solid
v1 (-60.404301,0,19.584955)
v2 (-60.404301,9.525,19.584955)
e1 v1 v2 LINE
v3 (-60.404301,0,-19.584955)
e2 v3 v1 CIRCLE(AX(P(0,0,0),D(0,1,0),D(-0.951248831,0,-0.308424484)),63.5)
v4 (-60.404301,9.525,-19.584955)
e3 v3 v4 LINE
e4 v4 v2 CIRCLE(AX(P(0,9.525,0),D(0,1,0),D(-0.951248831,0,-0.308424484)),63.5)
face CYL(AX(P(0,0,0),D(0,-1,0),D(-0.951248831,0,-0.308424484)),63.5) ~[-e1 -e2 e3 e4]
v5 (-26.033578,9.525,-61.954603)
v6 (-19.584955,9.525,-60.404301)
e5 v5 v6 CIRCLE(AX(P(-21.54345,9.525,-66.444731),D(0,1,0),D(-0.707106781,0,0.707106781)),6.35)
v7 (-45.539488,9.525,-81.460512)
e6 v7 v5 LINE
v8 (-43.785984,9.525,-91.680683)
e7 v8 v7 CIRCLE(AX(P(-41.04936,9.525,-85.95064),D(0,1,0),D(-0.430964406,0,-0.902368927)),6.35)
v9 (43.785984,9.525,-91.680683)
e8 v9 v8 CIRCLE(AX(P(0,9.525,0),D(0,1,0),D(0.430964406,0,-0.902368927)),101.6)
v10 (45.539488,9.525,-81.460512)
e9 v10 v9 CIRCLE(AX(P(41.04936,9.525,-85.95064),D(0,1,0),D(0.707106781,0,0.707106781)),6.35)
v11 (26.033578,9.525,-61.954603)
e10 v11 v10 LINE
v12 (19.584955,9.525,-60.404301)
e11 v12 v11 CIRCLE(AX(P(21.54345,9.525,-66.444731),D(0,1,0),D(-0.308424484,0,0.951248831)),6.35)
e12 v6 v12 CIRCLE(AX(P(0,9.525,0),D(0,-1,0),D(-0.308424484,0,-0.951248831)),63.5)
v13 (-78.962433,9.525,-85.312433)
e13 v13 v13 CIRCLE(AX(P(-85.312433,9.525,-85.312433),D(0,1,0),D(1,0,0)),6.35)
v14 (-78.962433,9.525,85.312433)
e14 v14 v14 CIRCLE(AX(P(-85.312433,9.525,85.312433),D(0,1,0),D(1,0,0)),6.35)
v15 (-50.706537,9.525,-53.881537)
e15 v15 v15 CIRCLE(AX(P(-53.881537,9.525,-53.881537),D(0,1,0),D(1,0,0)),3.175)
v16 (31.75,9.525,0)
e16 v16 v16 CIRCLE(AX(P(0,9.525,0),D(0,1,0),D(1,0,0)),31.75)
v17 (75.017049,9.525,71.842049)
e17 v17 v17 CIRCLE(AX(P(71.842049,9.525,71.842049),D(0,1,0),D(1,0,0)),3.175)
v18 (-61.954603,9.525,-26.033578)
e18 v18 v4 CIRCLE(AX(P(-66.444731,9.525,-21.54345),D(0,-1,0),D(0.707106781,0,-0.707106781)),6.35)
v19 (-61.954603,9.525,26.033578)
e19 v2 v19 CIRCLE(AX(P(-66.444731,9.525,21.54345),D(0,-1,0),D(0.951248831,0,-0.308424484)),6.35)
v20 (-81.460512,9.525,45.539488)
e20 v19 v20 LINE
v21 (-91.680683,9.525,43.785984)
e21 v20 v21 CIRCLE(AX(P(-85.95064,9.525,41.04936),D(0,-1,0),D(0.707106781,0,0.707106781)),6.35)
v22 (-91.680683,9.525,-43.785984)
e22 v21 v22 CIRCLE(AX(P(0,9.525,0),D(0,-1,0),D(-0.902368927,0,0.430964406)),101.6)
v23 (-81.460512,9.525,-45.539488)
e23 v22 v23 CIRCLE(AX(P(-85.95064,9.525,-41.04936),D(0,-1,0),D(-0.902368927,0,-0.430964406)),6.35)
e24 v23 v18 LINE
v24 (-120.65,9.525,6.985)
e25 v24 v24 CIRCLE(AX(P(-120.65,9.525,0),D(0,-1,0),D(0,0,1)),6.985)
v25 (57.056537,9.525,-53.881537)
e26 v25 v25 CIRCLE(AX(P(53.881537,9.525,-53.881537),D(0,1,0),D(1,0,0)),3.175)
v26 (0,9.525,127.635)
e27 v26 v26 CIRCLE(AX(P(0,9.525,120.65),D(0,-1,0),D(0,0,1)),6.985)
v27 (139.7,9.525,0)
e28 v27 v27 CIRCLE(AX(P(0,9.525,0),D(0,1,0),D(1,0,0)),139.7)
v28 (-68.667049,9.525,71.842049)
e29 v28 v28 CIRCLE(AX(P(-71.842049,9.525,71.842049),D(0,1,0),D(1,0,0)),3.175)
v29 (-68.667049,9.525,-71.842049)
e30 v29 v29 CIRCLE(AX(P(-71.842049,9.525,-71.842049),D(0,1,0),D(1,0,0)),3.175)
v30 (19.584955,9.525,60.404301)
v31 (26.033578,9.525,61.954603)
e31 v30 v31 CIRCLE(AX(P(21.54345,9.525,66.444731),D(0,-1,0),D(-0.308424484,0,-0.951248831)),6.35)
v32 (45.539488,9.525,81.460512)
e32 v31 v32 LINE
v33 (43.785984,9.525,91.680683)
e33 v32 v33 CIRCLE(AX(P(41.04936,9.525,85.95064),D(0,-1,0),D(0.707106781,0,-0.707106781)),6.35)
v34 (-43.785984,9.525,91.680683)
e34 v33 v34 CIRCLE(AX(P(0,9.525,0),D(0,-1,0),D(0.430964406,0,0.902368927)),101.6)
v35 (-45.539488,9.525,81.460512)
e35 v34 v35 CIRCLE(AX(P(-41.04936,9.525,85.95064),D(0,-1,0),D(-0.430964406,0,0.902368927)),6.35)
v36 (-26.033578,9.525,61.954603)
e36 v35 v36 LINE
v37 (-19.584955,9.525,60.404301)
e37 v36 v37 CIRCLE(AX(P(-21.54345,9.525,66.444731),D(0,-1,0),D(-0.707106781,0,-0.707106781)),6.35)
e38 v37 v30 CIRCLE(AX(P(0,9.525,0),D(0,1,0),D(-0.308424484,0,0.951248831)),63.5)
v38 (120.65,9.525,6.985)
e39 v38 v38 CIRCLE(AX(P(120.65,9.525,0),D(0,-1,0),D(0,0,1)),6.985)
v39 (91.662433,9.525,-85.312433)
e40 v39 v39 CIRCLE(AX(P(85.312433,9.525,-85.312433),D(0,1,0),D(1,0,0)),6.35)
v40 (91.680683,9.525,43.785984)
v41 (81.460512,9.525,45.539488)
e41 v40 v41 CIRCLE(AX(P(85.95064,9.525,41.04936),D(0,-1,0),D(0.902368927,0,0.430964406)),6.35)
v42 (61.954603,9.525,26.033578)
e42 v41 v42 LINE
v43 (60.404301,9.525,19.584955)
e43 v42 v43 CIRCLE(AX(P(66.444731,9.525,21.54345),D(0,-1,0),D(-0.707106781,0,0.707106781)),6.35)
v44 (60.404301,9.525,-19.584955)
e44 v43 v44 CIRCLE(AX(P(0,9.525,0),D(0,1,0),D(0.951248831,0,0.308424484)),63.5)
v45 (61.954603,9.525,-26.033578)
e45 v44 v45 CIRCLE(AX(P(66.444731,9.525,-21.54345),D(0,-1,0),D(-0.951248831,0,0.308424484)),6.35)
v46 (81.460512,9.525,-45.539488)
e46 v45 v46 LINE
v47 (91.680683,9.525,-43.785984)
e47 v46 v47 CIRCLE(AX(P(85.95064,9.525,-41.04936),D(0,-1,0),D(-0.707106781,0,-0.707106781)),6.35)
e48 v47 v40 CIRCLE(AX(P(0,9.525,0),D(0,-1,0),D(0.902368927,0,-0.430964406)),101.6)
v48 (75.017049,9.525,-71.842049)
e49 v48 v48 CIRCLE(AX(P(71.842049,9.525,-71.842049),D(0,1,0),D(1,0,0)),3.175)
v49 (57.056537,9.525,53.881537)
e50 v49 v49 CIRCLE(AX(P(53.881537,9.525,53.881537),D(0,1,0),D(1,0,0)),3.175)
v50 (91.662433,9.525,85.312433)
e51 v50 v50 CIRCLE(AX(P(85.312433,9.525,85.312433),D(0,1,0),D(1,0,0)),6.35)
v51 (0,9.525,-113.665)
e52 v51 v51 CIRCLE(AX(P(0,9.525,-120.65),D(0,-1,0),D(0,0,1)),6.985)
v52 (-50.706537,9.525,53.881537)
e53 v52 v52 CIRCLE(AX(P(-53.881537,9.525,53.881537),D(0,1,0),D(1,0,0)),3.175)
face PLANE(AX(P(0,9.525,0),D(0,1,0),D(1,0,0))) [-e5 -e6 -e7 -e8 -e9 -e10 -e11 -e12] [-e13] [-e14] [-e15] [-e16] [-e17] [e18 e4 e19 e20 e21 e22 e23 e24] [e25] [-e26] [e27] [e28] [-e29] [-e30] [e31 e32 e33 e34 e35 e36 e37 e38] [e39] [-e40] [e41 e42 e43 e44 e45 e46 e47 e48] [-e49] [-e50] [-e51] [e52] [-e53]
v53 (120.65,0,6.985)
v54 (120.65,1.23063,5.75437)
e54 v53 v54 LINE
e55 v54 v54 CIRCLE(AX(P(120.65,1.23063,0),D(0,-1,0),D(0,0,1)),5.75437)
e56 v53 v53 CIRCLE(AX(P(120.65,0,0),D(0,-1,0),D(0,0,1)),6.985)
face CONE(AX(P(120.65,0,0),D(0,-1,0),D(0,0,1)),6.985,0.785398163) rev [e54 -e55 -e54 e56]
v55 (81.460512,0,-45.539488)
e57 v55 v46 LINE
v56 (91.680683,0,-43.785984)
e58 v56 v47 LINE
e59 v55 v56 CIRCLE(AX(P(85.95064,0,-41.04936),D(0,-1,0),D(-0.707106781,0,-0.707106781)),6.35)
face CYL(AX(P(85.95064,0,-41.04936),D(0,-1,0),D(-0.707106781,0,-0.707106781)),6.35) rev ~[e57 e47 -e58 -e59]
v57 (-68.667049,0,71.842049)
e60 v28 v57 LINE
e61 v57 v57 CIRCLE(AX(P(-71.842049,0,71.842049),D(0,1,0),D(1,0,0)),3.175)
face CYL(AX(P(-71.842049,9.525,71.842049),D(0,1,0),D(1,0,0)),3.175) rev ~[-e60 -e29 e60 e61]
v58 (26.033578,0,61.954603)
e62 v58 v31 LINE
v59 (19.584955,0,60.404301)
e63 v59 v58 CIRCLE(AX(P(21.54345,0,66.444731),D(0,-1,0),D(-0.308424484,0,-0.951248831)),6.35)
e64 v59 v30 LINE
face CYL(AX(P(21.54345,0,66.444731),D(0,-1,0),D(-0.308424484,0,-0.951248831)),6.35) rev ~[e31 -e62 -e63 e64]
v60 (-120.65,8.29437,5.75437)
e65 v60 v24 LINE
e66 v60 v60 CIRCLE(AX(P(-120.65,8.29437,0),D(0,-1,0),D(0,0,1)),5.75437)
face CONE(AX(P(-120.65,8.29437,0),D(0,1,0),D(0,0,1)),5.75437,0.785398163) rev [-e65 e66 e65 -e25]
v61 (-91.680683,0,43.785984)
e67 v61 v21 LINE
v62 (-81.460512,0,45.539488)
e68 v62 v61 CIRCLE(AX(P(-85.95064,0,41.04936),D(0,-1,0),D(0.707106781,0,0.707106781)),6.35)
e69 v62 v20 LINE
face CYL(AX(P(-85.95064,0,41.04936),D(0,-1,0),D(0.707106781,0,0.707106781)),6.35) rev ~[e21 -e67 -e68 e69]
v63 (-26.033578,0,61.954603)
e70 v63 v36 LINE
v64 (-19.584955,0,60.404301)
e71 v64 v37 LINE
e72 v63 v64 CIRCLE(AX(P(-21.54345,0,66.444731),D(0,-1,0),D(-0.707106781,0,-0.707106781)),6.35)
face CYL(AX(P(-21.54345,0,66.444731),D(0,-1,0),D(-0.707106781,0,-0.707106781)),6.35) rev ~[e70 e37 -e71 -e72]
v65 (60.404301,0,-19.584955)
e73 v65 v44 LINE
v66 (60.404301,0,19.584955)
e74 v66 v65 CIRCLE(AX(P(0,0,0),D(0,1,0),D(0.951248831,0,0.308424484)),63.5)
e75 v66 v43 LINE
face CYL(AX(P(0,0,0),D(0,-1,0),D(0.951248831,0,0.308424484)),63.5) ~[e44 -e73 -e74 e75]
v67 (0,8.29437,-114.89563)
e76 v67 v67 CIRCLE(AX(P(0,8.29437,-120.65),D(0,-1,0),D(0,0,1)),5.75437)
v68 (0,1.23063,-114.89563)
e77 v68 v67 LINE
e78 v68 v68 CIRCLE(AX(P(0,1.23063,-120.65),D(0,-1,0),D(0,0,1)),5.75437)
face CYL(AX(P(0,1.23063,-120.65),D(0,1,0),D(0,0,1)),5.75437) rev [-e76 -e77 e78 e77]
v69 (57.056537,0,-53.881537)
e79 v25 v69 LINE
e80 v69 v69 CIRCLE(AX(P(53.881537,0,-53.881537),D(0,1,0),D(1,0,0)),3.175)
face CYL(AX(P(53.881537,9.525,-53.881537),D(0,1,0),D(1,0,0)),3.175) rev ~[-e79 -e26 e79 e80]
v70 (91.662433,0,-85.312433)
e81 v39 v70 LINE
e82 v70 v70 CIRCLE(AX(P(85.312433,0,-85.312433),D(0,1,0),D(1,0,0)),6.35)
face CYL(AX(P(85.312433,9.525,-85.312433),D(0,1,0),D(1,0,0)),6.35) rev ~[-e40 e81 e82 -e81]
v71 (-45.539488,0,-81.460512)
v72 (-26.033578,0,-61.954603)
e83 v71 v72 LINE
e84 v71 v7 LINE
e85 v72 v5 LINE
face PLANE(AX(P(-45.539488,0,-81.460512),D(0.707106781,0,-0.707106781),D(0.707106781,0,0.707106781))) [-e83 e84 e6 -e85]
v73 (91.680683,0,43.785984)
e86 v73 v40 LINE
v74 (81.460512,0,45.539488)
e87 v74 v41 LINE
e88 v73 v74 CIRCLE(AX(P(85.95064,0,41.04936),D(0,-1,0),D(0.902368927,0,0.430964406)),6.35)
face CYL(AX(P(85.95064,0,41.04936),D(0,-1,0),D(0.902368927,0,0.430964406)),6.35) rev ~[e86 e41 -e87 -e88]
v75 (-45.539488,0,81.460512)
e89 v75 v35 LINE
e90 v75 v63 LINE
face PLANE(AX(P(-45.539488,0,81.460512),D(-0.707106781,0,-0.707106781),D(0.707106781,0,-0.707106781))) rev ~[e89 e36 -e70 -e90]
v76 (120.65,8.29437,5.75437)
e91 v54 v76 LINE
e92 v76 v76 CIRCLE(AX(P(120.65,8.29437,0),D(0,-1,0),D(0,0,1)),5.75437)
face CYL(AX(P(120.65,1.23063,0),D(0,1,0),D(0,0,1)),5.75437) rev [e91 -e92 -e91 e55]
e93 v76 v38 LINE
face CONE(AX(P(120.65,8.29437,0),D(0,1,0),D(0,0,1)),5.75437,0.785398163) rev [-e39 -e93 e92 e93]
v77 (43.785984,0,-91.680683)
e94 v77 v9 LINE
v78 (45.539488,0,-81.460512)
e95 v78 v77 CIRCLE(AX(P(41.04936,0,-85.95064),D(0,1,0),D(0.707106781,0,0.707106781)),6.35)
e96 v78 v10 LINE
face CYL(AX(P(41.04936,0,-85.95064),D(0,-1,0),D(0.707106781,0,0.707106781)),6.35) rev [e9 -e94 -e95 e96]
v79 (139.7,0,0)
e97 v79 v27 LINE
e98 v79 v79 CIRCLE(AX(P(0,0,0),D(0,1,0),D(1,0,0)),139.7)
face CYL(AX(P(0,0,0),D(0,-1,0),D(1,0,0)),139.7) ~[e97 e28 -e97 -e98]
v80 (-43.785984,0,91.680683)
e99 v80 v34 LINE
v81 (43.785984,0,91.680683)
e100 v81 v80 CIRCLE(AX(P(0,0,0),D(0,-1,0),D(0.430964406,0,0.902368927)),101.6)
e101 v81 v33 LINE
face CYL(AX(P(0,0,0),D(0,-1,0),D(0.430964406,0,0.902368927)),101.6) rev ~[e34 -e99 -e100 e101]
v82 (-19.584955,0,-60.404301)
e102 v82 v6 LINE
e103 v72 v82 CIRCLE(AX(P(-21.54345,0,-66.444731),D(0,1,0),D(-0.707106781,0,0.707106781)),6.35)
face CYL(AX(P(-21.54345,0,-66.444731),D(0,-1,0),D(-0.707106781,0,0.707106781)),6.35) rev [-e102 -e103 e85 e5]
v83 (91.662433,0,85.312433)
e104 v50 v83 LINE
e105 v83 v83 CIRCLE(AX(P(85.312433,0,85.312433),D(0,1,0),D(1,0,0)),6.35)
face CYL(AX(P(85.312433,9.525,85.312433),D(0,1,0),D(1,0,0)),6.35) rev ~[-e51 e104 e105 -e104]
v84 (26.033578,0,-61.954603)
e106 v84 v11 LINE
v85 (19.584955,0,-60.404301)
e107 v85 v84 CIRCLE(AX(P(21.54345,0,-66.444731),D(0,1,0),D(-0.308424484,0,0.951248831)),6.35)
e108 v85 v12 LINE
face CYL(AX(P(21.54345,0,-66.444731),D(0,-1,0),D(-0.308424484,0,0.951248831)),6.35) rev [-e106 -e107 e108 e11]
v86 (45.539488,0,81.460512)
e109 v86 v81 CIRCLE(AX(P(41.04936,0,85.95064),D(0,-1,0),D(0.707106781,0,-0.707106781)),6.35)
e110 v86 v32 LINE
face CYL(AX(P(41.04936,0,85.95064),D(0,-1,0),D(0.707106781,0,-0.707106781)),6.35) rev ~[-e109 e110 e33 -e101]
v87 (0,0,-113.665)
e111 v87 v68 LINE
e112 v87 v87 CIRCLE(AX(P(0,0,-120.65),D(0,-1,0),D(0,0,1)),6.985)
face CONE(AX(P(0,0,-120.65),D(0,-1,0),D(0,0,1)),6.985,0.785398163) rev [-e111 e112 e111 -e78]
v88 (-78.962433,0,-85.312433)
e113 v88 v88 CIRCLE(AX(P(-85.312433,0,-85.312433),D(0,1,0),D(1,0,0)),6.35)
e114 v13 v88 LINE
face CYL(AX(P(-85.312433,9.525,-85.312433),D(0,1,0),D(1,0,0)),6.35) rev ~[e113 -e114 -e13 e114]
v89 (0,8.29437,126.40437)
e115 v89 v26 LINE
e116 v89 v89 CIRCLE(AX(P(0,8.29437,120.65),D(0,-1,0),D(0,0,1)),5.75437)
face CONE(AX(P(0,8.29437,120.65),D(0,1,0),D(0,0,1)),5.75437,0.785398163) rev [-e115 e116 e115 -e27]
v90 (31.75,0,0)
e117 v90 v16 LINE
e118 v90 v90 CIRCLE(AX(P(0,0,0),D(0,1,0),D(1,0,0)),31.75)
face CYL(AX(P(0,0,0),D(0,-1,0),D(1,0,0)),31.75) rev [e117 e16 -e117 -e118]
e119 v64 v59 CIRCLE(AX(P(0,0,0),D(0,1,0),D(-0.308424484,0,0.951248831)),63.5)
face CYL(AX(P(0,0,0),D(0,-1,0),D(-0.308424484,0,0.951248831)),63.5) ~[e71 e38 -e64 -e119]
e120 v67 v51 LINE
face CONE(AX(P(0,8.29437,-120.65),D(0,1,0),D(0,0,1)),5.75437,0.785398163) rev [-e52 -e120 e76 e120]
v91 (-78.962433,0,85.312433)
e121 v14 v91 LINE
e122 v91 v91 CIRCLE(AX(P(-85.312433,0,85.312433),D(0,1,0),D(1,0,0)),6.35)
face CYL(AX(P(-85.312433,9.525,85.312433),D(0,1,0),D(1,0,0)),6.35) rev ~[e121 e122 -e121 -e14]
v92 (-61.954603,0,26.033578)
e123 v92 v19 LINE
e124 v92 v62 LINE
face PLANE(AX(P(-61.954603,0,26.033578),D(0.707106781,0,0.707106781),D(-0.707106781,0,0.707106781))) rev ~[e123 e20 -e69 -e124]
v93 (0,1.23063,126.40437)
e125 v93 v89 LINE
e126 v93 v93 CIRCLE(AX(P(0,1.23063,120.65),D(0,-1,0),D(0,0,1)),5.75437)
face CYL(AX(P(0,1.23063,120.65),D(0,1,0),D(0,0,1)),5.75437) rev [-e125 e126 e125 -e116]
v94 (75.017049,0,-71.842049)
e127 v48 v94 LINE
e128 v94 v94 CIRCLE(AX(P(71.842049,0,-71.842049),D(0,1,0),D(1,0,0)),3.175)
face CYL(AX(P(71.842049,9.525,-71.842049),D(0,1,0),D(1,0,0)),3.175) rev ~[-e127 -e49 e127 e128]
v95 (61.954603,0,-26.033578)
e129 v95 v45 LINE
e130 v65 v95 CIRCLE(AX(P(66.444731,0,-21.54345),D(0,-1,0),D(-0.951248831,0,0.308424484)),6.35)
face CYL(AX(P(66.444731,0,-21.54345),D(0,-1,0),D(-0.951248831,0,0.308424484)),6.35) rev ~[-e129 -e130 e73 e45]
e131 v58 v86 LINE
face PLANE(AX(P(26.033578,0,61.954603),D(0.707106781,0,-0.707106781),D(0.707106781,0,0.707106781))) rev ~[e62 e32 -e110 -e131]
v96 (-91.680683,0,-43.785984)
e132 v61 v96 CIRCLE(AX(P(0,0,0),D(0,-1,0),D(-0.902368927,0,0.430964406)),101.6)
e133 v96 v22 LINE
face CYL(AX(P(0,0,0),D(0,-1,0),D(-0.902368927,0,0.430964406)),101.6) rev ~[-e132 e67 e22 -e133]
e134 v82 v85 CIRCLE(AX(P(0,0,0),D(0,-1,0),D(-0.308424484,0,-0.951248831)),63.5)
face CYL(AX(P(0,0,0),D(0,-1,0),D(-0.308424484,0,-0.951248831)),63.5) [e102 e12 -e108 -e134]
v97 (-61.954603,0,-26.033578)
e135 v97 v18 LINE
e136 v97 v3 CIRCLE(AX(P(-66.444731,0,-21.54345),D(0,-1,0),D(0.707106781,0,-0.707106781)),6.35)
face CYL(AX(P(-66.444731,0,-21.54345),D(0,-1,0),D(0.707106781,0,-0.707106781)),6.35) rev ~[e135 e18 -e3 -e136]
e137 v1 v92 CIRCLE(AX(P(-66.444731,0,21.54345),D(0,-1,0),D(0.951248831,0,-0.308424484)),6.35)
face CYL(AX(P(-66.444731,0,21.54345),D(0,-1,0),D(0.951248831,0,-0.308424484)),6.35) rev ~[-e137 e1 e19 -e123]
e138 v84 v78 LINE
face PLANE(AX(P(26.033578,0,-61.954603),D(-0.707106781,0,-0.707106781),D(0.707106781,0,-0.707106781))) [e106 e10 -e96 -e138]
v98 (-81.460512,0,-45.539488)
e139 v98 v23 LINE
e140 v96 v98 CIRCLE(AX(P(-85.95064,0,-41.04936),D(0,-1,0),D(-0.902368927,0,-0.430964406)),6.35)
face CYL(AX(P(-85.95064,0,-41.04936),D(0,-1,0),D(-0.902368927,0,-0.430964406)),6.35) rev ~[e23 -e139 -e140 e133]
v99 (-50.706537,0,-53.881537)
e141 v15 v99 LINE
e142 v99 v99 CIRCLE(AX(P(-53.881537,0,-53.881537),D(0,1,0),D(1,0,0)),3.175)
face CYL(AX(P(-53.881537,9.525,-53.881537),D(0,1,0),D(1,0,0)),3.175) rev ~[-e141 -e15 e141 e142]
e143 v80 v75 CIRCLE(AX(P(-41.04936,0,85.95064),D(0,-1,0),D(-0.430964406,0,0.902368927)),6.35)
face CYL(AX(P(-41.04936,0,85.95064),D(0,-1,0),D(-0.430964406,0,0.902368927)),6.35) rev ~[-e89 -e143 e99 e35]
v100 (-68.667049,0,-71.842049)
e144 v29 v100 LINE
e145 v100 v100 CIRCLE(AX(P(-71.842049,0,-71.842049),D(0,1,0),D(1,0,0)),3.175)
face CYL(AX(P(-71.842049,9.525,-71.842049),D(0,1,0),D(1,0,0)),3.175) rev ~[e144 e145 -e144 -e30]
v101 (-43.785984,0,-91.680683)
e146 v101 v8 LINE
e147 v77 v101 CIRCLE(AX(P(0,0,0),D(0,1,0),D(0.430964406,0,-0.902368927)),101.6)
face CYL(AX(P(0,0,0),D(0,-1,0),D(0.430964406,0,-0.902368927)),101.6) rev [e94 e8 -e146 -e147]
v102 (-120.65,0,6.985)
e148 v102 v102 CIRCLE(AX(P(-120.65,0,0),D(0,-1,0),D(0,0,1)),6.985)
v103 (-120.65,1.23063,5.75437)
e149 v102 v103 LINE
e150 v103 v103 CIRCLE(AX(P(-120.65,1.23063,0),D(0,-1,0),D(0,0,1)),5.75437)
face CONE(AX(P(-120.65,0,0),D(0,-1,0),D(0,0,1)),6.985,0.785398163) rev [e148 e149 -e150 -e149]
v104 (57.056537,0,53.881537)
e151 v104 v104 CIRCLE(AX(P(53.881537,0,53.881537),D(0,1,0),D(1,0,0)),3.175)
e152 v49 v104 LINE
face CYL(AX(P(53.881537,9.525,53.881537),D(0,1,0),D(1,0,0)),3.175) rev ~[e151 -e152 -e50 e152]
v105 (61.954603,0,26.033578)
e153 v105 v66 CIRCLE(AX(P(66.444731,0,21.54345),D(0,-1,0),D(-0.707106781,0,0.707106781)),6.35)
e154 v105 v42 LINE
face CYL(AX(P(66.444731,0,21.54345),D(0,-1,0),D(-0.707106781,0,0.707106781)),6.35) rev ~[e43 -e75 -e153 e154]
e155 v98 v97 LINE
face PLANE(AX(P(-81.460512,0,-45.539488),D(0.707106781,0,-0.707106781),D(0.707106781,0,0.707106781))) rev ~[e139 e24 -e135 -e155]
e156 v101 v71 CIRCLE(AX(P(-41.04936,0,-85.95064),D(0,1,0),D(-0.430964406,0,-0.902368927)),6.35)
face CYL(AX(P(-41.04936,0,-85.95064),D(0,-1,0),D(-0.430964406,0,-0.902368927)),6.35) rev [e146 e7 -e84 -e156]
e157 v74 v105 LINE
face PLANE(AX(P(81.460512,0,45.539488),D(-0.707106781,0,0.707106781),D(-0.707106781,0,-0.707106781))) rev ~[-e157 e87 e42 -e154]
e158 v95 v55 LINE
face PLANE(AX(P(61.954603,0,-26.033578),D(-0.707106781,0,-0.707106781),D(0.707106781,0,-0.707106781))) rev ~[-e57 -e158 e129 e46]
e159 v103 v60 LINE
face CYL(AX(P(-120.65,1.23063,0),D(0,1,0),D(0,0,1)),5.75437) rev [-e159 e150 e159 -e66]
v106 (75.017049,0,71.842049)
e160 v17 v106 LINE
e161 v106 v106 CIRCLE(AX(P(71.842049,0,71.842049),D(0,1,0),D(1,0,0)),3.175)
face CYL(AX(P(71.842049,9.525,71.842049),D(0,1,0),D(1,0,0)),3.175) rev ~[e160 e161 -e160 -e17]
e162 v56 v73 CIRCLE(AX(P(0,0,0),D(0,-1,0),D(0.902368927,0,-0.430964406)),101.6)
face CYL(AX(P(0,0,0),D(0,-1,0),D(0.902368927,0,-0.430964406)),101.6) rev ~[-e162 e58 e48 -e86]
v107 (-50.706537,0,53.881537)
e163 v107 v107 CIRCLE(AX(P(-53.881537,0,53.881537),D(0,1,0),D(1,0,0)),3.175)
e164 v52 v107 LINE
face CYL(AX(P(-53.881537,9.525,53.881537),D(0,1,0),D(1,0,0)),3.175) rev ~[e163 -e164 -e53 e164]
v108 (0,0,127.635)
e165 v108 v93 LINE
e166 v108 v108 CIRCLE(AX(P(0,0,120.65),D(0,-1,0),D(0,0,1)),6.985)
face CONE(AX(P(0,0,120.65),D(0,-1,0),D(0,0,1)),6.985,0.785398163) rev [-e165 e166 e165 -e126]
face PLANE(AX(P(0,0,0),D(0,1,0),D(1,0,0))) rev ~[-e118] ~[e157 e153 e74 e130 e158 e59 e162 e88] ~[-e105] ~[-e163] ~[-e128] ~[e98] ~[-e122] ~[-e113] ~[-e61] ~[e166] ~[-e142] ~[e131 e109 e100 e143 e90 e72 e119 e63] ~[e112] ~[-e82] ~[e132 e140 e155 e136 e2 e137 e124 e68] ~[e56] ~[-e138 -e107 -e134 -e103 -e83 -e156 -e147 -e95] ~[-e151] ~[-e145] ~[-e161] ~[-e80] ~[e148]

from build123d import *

# Parameters (mm, degrees)
SKETCH2_R                        = 139.7
SKETCH2_R_2                      = 31.75
BOSS_EXTRUDE1_DEPTH              = 9.525
SKETCH3_R                        = 3.175
SKETCH3_R_2                      = 6.35
CUT_EXTRUDE2_DEPTH               = 10.525
F_1_2_20_TAPPED_HOLE1_AT_2_COUNT = 2
F_1_2_20_TAPPED_HOLE1_AT_2_PITCH = 170.6248663
F_1_2_20_TAPPED_HOLE1_AT_3_COUNT = 2
F_1_2_20_TAPPED_HOLE1_AT_3_PITCH = 241.3
F_1_2_20_TAPPED_HOLE1_AT_4_COUNT = 2
F_1_2_20_TAPPED_HOLE1_AT_4_PITCH = 170.6248663


with BuildPart() as part:
    # Sketch2 → Boss-Extrude1 (new body)
    with BuildSketch(Plane(origin=(0, 0, 0), x_dir=(1, 0, 0), z_dir=(0, 1, 0))):
        Circle(SKETCH2_R)
        Circle(SKETCH2_R_2, mode=Mode.SUBTRACT)
        with BuildLine():
            Line((61.954602754, 26.03357827), (81.460512242, 45.539487758))
            ThreePointArc((81.460512242, 45.539487758), (87.024437868, 47.307910551), (91.68068299, 43.785983677))
            ThreePointArc((91.68068299, 43.785983677), (101.6, 0), (91.68068299, -43.785983677))
            ThreePointArc((91.68068299, -43.785983677), (87.024437868, -47.307910551), (81.460512242, -45.539487758))
            Line((81.460512242, -45.539487758), (61.954602754, -26.03357827))
            ThreePointArc((61.954602754, -26.03357827), (60.270643836, -23.027751383), (60.404300741, -19.584954736))
            ThreePointArc((60.404300741, -19.584954736), (63.5, 0), (60.404300741, 19.584954736))
            ThreePointArc((60.404300741, 19.584954736), (60.270643836, 23.027751383), (61.954602754, 26.03357827))
        make_face(mode=Mode.SUBTRACT)
        with BuildLine():
            Line((26.03357827, 61.954602754), (45.539487758, 81.460512242))
            ThreePointArc((45.539487758, 81.460512242), (47.307910551, 87.024437868), (43.785983677, 91.68068299))
            ThreePointArc((43.785983677, 91.68068299), (0, 101.6), (-43.785983677, 91.68068299))
            ThreePointArc((-43.785983677, 91.68068299), (-47.307910551, 87.024437868), (-45.539487758, 81.460512242))
            Line((-45.539487758, 81.460512242), (-26.03357827, 61.954602754))
            ThreePointArc((-26.03357827, 61.954602754), (-23.027751383, 60.270643836), (-19.584954736, 60.404300741))
            ThreePointArc((-19.584954736, 60.404300741), (0, 63.5), (19.584954736, 60.404300741))
            ThreePointArc((19.584954736, 60.404300741), (23.027751383, 60.270643836), (26.03357827, 61.954602754))
        make_face(mode=Mode.SUBTRACT)
        with BuildLine():
            Line((26.03357827, -61.954602754), (45.539487758, -81.460512242))
            ThreePointArc((45.539487758, -81.460512242), (47.307910551, -87.024437868), (43.785983677, -91.68068299))
            ThreePointArc((43.785983677, -91.68068299), (0, -101.6), (-43.785983677, -91.68068299))
            ThreePointArc((-43.785983677, -91.68068299), (-47.307910551, -87.024437868), (-45.539487758, -81.460512242))
            Line((-45.539487758, -81.460512242), (-26.03357827, -61.954602754))
            ThreePointArc((-26.03357827, -61.954602754), (-23.027751383, -60.270643836), (-19.584954736, -60.404300741))
            ThreePointArc((-19.584954736, -60.404300741), (0, -63.5), (19.584954736, -60.404300741))
            ThreePointArc((19.584954736, -60.404300741), (23.027751383, -60.270643836), (26.03357827, -61.954602754))
        make_face(mode=Mode.SUBTRACT)
        with BuildLine():
            Line((-61.954602754, -26.03357827), (-81.460512242, -45.539487758))
            ThreePointArc((-81.460512242, -45.539487758), (-87.024437868, -47.307910551), (-91.68068299, -43.785983677))
            ThreePointArc((-91.68068299, -43.785983677), (-101.6, 0), (-91.68068299, 43.785983677))
            ThreePointArc((-91.68068299, 43.785983677), (-87.024437868, 47.307910551), (-81.460512242, 45.539487758))
            Line((-81.460512242, 45.539487758), (-61.954602754, 26.03357827))
            ThreePointArc((-61.954602754, 26.03357827), (-60.270643836, 23.027751383), (-60.404300741, 19.584954736))
            ThreePointArc((-60.404300741, 19.584954736), (-63.5, 0), (-60.404300741, -19.584954736))
            ThreePointArc((-60.404300741, -19.584954736), (-60.270643836, -23.027751383), (-61.954602754, -26.03357827))
        make_face(mode=Mode.SUBTRACT)
    extrude(amount=BOSS_EXTRUDE1_DEPTH)

    # Sketch3 → Cut-Extrude2 (cut, through all)
    with BuildSketch(Plane(origin=(0, 9.525, 0), x_dir=(1, 0, 0), z_dir=(0, 1, 0))):
        with Locations((-71.842048969, 71.842048969)):
            Circle(SKETCH3_R)
        with Locations((-53.881536726, 53.881536726)):
            Circle(SKETCH3_R)
        with Locations((-71.842048969, -71.842048969)):
            Circle(SKETCH3_R)
        with Locations((71.842048969, -71.842048969)):
            Circle(SKETCH3_R)
        with Locations((71.842048969, 71.842048969)):
            Circle(SKETCH3_R)
        with Locations((53.881536726, 53.881536726)):
            Circle(SKETCH3_R)
        with Locations((53.881536726, -53.881536726)):
            Circle(SKETCH3_R)
        with Locations((-53.881536726, -53.881536726)):
            Circle(SKETCH3_R)
        with Locations((85.31243315, 85.31243315)):
            Circle(SKETCH3_R_2)
        with Locations((85.31243315, -85.31243315)):
            Circle(SKETCH3_R_2)
        with Locations((-85.31243315, -85.31243315)):
            Circle(SKETCH3_R_2)
        with Locations((-85.31243315, 85.31243315)):
            Circle(SKETCH3_R_2)
    extrude(amount=-CUT_EXTRUDE2_DEPTH, mode=Mode.SUBTRACT)

    # Sketch7 → 1/2-20 Tapped Hole1 (revolve, cut)
    with BuildSketch(Plane(origin=(-120.65, 9.525, 0), x_dir=(0, 0, 1), z_dir=(1, 0, 0))):
        Polygon((0, 0), (0, 9.525), (6.985, 9.525), (5.75437, 8.29437), (5.75437, 1.23063), (6.985, 0), align=None)
    f_1_2_20_tapped_hole1 = revolve(axis=Axis((-120.65, 15.875, 0), (0, -1, 0)), mode=Mode.SUBTRACT)

    # 1/2-20 Tapped Hole1 at 2: 1/2-20 Tapped Hole1 ×2
    with Locations(*[Vector(0.707106781, 0, -0.707106781) * (i * F_1_2_20_TAPPED_HOLE1_AT_2_PITCH) for i in range(1, F_1_2_20_TAPPED_HOLE1_AT_2_COUNT)]):
        add(f_1_2_20_tapped_hole1, mode=Mode.SUBTRACT)

    # 1/2-20 Tapped Hole1 at 3: 1/2-20 Tapped Hole1 ×2
    with Locations(*[(i * F_1_2_20_TAPPED_HOLE1_AT_3_PITCH, 0, 0) for i in range(1, F_1_2_20_TAPPED_HOLE1_AT_3_COUNT)]):
        add(f_1_2_20_tapped_hole1, mode=Mode.SUBTRACT)

    # 1/2-20 Tapped Hole1 at 4: 1/2-20 Tapped Hole1 ×2
    with Locations(*[Vector(0.707106781, 0, 0.707106781) * (i * F_1_2_20_TAPPED_HOLE1_AT_4_PITCH) for i in range(1, F_1_2_20_TAPPED_HOLE1_AT_4_COUNT)]):
        add(f_1_2_20_tapped_hole1, mode=Mode.SUBTRACT)


solid = part.part
